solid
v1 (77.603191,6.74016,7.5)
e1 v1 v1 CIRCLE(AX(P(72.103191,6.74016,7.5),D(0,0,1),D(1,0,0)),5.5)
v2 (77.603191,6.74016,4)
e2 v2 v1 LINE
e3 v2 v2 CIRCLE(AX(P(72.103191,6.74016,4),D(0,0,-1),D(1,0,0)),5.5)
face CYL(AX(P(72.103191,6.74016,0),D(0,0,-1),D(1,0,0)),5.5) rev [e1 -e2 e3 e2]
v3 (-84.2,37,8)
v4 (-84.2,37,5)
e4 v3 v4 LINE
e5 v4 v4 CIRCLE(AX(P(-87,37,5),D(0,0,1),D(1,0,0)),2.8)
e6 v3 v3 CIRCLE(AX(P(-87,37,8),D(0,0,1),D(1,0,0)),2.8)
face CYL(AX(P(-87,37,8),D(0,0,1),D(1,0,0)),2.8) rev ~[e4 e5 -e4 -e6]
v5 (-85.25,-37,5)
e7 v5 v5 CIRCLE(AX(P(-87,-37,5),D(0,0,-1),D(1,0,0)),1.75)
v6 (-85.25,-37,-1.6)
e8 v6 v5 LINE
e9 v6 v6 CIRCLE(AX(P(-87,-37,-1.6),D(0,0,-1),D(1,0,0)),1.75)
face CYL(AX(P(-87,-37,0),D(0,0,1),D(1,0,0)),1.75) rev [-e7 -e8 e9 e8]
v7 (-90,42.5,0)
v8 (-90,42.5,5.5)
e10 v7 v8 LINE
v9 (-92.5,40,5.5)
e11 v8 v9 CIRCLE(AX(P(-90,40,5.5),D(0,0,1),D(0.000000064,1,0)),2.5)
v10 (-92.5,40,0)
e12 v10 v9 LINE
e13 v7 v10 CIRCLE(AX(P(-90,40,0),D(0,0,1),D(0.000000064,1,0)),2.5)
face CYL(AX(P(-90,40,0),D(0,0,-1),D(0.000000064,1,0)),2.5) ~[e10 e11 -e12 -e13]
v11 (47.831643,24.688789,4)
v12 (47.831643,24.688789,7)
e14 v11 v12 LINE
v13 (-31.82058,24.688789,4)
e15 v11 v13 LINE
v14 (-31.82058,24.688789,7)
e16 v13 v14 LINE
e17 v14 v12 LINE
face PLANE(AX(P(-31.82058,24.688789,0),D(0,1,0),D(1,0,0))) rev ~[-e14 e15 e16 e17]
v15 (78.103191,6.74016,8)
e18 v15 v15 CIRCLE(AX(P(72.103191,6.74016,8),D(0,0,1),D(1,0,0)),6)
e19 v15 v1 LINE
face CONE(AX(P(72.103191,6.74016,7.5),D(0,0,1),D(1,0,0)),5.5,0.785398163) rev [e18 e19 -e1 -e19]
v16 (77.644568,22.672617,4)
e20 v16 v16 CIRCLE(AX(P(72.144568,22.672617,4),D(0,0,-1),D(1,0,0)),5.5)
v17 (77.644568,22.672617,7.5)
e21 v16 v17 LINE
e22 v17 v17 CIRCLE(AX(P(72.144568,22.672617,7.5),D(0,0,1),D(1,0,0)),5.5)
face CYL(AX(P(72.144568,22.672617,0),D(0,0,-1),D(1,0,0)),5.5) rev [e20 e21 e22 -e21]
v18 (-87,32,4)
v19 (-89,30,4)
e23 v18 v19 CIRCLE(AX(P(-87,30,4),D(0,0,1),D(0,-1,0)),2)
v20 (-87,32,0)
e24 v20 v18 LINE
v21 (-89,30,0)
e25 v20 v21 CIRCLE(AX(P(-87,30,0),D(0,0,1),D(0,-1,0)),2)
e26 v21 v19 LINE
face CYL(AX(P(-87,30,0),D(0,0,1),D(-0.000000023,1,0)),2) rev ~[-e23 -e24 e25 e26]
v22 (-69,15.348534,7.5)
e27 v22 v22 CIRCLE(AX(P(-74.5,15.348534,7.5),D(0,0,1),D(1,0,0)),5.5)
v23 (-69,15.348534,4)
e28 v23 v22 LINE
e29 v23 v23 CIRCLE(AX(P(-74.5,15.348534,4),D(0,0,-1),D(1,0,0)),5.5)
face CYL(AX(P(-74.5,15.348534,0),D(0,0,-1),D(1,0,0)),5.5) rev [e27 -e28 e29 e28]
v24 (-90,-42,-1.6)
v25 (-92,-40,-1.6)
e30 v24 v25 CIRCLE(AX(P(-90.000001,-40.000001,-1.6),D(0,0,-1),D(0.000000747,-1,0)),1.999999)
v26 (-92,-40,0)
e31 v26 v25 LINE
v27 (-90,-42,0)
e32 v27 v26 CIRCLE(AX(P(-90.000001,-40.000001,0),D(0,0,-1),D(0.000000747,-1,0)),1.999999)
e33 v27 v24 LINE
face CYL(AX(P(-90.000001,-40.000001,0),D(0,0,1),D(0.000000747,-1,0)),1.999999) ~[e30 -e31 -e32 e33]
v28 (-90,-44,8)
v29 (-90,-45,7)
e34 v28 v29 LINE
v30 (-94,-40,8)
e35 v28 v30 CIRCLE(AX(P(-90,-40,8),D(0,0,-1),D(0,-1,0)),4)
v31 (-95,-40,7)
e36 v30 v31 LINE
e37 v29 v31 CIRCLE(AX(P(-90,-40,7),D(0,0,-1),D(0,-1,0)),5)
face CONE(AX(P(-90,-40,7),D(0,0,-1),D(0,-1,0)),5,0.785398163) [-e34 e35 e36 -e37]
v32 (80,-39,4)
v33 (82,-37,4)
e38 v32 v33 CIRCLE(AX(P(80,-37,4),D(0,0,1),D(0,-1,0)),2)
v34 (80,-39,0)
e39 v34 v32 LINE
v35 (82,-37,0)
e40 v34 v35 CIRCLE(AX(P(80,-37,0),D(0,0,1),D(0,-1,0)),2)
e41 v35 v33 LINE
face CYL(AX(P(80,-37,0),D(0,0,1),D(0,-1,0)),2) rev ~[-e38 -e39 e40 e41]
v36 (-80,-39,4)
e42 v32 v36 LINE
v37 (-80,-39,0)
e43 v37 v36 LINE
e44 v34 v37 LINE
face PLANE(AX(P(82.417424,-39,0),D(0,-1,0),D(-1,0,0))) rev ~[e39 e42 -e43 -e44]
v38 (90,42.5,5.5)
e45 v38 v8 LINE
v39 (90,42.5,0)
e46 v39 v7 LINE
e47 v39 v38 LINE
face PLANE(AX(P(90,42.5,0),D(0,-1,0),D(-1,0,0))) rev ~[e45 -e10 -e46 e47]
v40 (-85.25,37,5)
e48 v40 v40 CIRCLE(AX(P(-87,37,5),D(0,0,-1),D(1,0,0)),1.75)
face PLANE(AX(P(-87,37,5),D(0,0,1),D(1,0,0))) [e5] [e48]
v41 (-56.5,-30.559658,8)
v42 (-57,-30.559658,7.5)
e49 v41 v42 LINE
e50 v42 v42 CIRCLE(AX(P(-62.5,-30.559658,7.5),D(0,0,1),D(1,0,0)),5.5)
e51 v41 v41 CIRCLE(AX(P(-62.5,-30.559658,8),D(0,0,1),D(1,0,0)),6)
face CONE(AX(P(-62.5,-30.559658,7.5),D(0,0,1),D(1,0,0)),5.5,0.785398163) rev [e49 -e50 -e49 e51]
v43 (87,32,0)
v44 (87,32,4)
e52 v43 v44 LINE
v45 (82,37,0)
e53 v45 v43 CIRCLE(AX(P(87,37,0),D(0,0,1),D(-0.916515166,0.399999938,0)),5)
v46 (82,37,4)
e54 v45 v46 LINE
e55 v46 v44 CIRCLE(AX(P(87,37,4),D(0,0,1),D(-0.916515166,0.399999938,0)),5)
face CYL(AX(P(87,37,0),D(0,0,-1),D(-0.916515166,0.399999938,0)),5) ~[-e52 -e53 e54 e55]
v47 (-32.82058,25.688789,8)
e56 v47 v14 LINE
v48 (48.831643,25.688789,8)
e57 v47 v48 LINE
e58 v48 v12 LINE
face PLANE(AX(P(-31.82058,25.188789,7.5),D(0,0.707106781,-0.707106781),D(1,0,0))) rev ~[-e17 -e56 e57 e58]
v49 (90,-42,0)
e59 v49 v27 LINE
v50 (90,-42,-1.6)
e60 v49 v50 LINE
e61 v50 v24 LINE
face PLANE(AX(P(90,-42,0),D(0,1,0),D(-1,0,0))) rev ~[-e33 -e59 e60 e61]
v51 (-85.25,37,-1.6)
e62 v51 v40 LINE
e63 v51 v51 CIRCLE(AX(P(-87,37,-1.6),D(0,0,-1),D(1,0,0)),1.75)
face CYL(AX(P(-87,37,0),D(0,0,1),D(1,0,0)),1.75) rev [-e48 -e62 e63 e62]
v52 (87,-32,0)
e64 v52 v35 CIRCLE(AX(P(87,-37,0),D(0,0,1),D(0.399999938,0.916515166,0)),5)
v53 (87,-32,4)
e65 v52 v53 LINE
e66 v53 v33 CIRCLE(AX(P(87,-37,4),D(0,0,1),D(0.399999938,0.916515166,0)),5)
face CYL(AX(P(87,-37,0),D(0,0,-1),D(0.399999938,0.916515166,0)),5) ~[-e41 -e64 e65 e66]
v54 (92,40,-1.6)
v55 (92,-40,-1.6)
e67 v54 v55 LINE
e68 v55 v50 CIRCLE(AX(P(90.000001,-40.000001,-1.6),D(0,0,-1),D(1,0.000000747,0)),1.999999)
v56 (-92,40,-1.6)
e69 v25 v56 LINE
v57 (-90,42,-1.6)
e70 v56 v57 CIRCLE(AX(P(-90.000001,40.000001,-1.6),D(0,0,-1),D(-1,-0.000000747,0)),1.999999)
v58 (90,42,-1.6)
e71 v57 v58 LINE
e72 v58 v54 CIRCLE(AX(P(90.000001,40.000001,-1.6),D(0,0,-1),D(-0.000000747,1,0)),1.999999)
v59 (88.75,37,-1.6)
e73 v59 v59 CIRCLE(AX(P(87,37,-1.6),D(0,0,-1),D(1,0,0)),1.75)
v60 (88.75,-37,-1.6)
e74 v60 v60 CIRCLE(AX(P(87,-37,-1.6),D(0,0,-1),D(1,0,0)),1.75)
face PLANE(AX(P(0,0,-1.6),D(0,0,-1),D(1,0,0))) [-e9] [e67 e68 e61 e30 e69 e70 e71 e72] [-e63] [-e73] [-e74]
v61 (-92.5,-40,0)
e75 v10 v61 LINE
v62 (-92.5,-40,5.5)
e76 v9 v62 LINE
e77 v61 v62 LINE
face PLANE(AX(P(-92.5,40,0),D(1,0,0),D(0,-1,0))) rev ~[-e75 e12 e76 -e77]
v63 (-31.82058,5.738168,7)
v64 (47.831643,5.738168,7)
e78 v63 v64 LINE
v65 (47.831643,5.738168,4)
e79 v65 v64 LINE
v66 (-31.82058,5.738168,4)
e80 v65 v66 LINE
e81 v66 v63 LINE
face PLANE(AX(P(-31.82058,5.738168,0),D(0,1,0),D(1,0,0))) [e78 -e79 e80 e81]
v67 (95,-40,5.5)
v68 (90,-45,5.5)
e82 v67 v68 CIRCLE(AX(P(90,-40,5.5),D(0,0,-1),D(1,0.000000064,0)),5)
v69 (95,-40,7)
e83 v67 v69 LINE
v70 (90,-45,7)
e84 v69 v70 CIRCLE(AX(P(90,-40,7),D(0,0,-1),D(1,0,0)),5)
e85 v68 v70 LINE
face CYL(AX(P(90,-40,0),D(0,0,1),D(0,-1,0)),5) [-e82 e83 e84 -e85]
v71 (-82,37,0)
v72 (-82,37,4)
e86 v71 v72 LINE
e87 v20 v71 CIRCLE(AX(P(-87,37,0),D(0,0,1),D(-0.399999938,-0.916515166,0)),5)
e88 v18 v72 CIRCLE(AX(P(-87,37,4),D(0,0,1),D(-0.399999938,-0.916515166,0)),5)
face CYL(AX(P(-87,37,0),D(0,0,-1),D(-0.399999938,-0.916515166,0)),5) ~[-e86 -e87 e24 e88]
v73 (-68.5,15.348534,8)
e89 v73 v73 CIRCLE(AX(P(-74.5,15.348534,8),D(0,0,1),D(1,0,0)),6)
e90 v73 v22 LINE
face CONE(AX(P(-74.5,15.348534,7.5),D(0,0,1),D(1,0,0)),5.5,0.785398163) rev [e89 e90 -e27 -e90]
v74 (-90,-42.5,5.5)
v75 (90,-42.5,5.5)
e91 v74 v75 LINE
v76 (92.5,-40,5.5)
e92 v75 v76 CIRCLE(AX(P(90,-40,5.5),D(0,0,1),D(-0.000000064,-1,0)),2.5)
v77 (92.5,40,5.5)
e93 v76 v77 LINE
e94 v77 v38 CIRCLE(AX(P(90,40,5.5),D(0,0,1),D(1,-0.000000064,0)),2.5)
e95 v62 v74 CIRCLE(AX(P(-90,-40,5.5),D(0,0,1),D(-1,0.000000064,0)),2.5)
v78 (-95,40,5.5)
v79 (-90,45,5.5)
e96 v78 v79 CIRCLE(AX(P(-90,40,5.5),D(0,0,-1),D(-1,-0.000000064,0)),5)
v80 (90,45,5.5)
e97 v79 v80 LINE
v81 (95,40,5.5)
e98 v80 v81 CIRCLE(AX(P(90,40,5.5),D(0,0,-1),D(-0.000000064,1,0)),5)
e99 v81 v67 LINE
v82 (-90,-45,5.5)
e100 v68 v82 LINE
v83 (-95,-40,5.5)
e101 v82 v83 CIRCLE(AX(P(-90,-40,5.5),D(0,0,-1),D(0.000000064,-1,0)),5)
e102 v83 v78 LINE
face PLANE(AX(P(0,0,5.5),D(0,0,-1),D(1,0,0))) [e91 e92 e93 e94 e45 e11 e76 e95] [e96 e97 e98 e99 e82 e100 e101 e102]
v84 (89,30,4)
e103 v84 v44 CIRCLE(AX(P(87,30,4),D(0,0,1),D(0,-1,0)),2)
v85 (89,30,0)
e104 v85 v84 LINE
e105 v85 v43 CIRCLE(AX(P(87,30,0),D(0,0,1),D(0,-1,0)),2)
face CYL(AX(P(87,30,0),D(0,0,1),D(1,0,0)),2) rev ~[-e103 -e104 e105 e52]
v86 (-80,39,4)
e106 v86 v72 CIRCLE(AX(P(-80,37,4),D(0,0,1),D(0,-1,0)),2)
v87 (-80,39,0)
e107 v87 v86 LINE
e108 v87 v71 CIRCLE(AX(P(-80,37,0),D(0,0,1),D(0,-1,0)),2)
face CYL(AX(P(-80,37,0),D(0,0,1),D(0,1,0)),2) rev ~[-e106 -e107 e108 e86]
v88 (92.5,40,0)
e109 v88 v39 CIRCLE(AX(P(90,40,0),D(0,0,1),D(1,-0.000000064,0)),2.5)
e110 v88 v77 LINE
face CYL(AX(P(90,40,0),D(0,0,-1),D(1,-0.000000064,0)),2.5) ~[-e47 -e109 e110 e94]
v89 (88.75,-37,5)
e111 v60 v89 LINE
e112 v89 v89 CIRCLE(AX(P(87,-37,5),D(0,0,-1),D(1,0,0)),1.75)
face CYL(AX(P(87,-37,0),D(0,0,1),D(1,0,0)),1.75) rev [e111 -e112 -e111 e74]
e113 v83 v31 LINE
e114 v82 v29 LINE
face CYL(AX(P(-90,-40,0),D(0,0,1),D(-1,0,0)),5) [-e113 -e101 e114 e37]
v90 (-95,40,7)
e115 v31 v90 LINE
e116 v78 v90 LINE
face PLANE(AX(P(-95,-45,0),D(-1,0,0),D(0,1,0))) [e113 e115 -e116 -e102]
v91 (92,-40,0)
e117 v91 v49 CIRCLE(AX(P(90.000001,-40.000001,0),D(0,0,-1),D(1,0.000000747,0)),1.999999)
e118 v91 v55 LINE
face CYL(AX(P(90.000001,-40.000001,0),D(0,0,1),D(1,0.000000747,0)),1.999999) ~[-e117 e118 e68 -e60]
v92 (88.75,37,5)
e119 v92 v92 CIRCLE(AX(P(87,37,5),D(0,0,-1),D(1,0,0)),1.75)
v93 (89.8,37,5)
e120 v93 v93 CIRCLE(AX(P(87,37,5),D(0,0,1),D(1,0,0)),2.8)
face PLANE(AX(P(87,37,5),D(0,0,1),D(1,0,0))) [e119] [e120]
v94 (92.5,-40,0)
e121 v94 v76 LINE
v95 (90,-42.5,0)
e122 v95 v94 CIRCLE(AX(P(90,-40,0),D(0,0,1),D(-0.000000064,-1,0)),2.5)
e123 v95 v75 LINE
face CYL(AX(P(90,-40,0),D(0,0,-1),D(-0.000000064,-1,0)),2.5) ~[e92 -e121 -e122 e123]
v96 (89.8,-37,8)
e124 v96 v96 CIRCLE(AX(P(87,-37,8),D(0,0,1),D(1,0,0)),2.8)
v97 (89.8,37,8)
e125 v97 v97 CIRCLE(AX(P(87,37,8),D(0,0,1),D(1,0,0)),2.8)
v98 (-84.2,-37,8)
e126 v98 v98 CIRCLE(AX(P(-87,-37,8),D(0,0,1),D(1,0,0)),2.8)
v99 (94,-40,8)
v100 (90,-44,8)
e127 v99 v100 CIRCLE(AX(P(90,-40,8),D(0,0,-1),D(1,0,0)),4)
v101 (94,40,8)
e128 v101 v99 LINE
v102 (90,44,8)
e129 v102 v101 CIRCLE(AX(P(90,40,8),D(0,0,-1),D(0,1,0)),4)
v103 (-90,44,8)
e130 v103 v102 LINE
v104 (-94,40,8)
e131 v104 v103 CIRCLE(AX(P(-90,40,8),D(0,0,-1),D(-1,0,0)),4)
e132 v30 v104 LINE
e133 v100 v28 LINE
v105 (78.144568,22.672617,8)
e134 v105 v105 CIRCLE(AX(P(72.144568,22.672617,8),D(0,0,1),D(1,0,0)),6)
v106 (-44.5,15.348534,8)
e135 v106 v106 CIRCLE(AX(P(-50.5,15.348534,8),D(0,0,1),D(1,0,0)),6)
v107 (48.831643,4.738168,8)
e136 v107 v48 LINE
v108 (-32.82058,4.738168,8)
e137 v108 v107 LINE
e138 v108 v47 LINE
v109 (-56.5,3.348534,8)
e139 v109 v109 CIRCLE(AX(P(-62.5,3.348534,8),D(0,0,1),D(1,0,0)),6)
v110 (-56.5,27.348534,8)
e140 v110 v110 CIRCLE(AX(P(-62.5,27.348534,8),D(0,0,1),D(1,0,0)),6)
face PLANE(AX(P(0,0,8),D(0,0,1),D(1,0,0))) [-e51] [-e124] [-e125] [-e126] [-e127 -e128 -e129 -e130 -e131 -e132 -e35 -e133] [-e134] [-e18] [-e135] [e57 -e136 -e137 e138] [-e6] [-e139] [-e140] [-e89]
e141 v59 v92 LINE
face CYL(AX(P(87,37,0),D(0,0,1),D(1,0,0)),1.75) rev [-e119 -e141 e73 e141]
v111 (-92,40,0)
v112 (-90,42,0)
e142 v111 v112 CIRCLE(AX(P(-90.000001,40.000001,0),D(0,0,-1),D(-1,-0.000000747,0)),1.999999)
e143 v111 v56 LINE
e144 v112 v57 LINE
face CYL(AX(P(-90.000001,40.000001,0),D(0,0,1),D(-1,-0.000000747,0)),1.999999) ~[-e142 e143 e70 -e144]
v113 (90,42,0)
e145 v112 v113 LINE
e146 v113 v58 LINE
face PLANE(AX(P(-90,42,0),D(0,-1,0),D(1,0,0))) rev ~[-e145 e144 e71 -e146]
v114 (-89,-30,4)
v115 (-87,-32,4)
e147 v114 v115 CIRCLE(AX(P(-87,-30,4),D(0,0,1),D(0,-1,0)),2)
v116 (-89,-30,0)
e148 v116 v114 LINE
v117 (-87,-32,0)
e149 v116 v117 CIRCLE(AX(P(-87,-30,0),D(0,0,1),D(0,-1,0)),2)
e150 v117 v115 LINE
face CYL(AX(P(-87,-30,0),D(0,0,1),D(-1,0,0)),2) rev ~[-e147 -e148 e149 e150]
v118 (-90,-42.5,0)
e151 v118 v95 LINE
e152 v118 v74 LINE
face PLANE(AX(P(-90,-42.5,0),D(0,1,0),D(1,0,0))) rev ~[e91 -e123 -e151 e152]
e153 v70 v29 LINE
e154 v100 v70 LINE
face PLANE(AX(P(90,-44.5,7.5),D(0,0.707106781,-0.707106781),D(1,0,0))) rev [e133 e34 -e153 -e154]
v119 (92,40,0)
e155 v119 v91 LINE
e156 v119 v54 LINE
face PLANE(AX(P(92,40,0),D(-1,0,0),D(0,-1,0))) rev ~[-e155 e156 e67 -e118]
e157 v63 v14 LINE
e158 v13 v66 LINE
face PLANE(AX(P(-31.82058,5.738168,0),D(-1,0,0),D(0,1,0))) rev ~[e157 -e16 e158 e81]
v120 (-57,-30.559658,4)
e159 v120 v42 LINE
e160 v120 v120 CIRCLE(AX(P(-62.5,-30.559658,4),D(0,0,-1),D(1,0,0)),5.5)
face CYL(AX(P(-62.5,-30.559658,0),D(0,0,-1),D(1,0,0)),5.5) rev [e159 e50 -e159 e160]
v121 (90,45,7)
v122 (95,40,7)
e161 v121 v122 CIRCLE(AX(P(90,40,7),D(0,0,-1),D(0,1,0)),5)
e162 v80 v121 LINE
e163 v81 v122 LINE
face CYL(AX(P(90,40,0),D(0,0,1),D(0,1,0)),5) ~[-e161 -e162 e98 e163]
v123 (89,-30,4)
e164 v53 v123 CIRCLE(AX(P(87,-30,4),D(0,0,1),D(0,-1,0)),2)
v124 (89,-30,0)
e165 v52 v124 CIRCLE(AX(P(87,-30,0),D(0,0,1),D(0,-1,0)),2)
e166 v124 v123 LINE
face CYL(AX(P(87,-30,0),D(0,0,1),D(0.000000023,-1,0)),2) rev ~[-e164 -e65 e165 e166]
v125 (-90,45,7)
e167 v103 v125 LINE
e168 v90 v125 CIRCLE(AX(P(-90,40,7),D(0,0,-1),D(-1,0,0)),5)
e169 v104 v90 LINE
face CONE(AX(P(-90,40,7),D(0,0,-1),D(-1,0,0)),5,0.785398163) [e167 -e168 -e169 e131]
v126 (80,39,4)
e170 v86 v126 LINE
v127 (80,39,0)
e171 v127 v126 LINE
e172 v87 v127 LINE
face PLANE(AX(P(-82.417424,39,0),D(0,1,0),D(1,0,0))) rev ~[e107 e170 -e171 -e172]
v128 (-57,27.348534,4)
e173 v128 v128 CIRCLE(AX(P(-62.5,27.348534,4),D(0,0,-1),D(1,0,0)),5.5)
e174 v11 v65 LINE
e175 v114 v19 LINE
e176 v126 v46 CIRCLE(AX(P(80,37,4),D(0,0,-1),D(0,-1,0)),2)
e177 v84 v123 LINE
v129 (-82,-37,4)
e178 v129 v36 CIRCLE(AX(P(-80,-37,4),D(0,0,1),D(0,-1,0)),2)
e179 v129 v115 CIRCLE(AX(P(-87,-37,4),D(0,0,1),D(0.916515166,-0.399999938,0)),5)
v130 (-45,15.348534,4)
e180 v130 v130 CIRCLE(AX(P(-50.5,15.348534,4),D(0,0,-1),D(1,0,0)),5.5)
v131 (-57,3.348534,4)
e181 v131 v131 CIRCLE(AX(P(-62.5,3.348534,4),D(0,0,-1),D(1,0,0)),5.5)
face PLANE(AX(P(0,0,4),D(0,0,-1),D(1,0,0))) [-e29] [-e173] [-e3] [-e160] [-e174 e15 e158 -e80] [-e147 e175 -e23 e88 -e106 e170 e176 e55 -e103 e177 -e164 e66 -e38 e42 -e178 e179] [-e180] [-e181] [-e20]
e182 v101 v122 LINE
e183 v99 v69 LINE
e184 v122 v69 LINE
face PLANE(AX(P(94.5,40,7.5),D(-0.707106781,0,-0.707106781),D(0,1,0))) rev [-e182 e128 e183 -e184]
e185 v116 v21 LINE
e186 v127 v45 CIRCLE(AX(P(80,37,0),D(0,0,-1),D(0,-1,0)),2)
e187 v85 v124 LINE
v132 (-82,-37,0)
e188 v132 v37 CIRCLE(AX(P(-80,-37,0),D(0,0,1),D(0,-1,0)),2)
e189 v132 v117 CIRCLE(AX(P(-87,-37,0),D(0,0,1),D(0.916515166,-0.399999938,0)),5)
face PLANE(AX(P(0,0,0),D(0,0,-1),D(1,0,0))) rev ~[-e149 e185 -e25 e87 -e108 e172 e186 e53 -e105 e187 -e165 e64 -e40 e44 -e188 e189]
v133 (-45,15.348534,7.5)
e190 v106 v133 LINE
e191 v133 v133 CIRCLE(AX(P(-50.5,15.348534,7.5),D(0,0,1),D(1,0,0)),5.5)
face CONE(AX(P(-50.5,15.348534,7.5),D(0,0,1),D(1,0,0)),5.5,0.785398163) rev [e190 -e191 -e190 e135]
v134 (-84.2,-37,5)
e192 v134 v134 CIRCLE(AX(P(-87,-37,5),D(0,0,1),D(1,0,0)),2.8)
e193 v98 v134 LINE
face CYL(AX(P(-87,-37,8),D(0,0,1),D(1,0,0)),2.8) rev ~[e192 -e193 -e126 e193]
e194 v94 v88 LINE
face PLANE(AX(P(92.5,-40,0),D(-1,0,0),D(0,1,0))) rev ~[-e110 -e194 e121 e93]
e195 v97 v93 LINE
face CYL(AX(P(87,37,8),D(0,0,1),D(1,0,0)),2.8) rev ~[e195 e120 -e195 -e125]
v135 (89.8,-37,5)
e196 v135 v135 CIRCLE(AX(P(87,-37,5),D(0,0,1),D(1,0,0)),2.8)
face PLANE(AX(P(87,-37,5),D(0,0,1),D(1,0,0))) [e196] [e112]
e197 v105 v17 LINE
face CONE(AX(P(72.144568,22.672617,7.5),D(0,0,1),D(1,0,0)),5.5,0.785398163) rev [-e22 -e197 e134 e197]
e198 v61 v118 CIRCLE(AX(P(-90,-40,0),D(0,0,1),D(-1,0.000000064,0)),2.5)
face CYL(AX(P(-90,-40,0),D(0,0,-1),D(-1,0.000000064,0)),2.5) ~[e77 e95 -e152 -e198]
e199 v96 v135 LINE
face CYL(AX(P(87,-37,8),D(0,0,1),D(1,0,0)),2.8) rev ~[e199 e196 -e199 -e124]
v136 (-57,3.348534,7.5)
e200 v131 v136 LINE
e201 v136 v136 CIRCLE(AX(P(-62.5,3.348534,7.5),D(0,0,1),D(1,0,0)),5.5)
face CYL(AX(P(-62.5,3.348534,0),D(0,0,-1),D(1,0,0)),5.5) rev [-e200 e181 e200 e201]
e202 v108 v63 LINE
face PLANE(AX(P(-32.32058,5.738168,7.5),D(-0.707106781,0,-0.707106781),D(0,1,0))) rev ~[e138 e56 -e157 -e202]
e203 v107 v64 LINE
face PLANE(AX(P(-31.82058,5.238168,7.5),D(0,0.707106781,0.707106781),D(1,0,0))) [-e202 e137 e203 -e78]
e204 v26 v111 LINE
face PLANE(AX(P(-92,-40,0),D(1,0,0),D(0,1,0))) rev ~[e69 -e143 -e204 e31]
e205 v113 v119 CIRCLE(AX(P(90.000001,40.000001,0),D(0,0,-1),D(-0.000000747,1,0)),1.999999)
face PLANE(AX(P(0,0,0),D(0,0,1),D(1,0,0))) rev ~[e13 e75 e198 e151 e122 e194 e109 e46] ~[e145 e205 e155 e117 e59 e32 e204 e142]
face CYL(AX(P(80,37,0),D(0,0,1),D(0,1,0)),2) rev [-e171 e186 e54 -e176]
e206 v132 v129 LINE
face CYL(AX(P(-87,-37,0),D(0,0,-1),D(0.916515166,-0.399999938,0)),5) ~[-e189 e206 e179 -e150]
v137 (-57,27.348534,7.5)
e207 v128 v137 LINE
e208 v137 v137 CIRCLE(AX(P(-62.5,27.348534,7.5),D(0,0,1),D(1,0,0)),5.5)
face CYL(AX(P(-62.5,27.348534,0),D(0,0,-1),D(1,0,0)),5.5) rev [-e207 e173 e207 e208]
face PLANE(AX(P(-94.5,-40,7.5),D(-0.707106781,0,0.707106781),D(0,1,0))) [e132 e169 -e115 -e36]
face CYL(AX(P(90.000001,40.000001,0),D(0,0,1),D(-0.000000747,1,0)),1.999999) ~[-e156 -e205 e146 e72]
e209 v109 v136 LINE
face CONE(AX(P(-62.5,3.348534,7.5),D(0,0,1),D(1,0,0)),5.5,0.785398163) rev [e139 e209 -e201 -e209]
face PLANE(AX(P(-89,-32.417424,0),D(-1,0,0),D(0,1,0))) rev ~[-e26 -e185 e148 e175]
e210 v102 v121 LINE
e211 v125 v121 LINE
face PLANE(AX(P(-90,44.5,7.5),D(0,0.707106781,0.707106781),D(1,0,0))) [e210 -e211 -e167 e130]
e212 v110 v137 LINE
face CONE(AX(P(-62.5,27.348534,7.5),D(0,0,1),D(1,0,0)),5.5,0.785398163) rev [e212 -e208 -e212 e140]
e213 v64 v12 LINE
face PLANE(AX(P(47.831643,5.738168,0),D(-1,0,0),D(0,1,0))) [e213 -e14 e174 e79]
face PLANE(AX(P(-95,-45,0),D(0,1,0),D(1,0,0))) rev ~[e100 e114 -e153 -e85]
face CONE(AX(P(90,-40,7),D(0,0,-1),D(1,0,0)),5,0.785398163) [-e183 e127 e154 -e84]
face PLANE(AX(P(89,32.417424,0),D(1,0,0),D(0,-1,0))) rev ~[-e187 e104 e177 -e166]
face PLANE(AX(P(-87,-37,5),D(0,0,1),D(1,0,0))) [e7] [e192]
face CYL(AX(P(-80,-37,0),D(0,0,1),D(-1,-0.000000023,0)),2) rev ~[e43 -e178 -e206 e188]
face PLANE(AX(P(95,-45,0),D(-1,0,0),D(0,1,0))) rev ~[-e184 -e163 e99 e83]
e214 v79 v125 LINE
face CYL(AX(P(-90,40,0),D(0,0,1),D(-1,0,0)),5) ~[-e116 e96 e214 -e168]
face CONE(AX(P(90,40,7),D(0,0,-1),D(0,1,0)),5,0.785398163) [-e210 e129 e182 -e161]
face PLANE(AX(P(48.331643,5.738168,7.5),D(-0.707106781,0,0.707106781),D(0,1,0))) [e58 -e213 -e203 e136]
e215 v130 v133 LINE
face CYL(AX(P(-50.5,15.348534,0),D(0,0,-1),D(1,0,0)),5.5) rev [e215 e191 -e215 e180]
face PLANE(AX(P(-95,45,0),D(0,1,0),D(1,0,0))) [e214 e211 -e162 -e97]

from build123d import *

# Parameters (mm, degrees)
F0_W      = 190
F0_H      = 90
F0_R      = 1.75
F0_R_2    = 5.5
F0_W_2    = 79.652223
F0_H_2    = 18.950621
F1_DEPTH  = 8
F2_R      = 5
F4_DEPTH  = 4
F5_SIZE   = 0.5
F6_SIZE   = 1
F7_R      = 2
F8_R      = 2.8
F9_DEPTH  = 3
F11_DEPTH = 5.5
F12_R     = 1.75
F13_DEPTH = 1.6


with BuildPart() as f1:
    # F0 (on Top) → F1 (new body)
    with BuildSketch(Plane.XY):
        Rectangle(F0_W, F0_H)
        with Locations((-87, -37)):
            Circle(F0_R, mode=Mode.SUBTRACT)
        with Locations((-62.5, -30.559658)):
            Circle(F0_R_2, mode=Mode.SUBTRACT)
        with Locations((87, -37)):
            Circle(F0_R, mode=Mode.SUBTRACT)
        with Locations((-62.5, 3.348534)):
            Circle(F0_R_2, mode=Mode.SUBTRACT)
        with Locations((-74.5, 15.348534)):
            Circle(F0_R_2, mode=Mode.SUBTRACT)
        with Locations((-50.5, 15.348534)):
            Circle(F0_R_2, mode=Mode.SUBTRACT)
        with Locations((-62.5, 27.348534)):
            Circle(F0_R_2, mode=Mode.SUBTRACT)
        with Locations((-87, 37)):
            Circle(F0_R, mode=Mode.SUBTRACT)
        with Locations((8.005532, 15.213479)):
            Rectangle(F0_W_2, F0_H_2, mode=Mode.SUBTRACT)
        with Locations((72.103191, 6.74016)):
            Circle(F0_R_2, mode=Mode.SUBTRACT)
        with Locations((72.144568, 22.672617)):
            Circle(F0_R_2, mode=Mode.SUBTRACT)
        with Locations((87, 37)):
            Circle(F0_R, mode=Mode.SUBTRACT)
    extrude(amount=F1_DEPTH)

    # F2
    f2_edges = [f1.edges().sort_by_distance(p)[0] for p in [
        (-95, 45, 4),
        (-95, -45, 4),
        (95, -45, 4),
        (95, 45, 4),
    ]]
    fillet(f2_edges, radius=F2_R)

    # F3 (on face) → F4 (cut)
    with BuildSketch(Plane(origin=(0, 0, 0), x_dir=(1, 0, 0), z_dir=(0, 0, -1))):
        with BuildLine():
            ThreePointArc((82.417424, -39), (83.464466, -33.464466), (89, -32.417424))
            Line((89, -32.417424), (89, 32.417424))
            ThreePointArc((89, 32.417424), (83.464466, 33.464466), (82.417424, 39))
            Line((82.417424, 39), (-82.417424, 39))
            ThreePointArc((-82.417424, 39), (-83.464466, 33.464466), (-89, 32.417424))
            Line((-89, 32.417424), (-89, -32.417424))
            ThreePointArc((-89, -32.417424), (-83.464466, -33.464466), (-82.417424, -39))
            Line((-82.417424, -39), (82.417424, -39))
        make_face()
    extrude(amount=-F4_DEPTH, mode=Mode.SUBTRACT)

    # F5
    f5_edges = [f1.edges().sort_by_distance(p)[0] for p in [
        (-68, 27.348534, 8),
        (-56, 15.348534, 8),
        (-80, 15.348534, 8),
        (-68, 3.348534, 8),
        (-68, -30.559658, 8),
        (66.644568, 22.672617, 8),
        (66.603191, 6.74016, 8),
    ]]
    chamfer(f5_edges, length=F5_SIZE)

    # F6
    f6_edges = [f1.edges().sort_by_distance(p)[0] for p in [
        (8.005532, 24.688789, 8),
        (-31.82058, 15.213478, 8),
        (47.831643, 15.213478, 8),
        (8.005532, 5.738168, 8),
        (0, 45, 8),
    ]]
    chamfer(f6_edges, length=F6_SIZE)

    # F7
    f7_edges = [f1.edges().sort_by_distance(p)[0] for p in [
        (-89, -32.417424, 2),
        (-82.417424, -39, 2),
        (82.417424, -39, 2),
        (89, -32.417424, 2),
        (89, 32.417424, 2),
        (82.417424, 39, 2),
        (-82.417424, 39, 2),
        (-89, 32.417424, 2),
    ]]
    fillet(f7_edges, radius=F7_R)

    # F8 (on face) → F9 (cut)
    with BuildSketch(Plane.XY.offset(8)):
        with Locations((-87, 37)):
            Circle(F8_R)
        with Locations((87, 37)):
            Circle(F8_R)
        with Locations((-87, -37)):
            Circle(F8_R)
        with Locations((87, -37)):
            Circle(F8_R)
    extrude(amount=-F9_DEPTH, mode=Mode.SUBTRACT)

    # F10 (on face) → F11 (cut)
    with BuildSketch(Plane(origin=(0, 0, 0), x_dir=(1, 0, 0), z_dir=(0, 0, -1))):
        with BuildLine():
            Line((-90, -45), (90, -45))
            ThreePointArc((90, -45), (93.535534, -43.535534), (95, -40))
            Line((95, -40), (95, 40))
            ThreePointArc((95, 40), (93.535534, 43.535534), (90, 45))
            Line((90, 45), (-90, 45))
            ThreePointArc((-90, 45), (-93.535534, 43.535534), (-95, 40))
            Line((-95, 40), (-95, -40))
            ThreePointArc((-95, -40), (-93.535534, -43.535534), (-90, -45))
        make_face()
        with BuildLine():
            ThreePointArc((92.5, -40), (91.767767, -41.767767), (90, -42.5))
            Line((90, -42.5), (-90, -42.5))
            ThreePointArc((-90, -42.5), (-91.767767, -41.767767), (-92.5, -40))
            Line((-92.5, -40), (-92.5, 40))
            ThreePointArc((-92.5, 40), (-91.767767, 41.767767), (-90, 42.5))
            Line((-90, 42.5), (90, 42.5))
            ThreePointArc((90, 42.5), (91.767767, 41.767767), (92.5, 40))
            Line((92.5, 40), (92.5, -40))
        make_face(mode=Mode.SUBTRACT)
    extrude(amount=-F11_DEPTH, mode=Mode.SUBTRACT)

    # F12 (on face) → F13 (join)
    with BuildSketch(Plane(origin=(0, 0, 0), x_dir=(1, 0, 0), z_dir=(0, 0, -1))):
        with BuildLine():
            Line((90, 42), (-90, 42))
            ThreePointArc((-90, 42), (-91.414214, 41.414214), (-92, 40))
            Line((-92, 40), (-92, -40))
            ThreePointArc((-92, -40), (-91.414214, -41.414214), (-90, -42))
            Line((-90, -42), (90, -42))
            ThreePointArc((90, -42), (91.414214, -41.414214), (92, -40))
            Line((92, -40), (92, 40))
            ThreePointArc((92, 40), (91.414214, 41.414214), (90, 42))
        make_face()
        with Locations((-87, -37)):
            Circle(F12_R, mode=Mode.SUBTRACT)
        with Locations((87, -37)):
            Circle(F12_R, mode=Mode.SUBTRACT)
        with Locations((-87, 37)):
            Circle(F12_R, mode=Mode.SUBTRACT)
        with Locations((87, 37)):
            Circle(F12_R, mode=Mode.SUBTRACT)
    extrude(amount=F13_DEPTH)


solid = f1.part
